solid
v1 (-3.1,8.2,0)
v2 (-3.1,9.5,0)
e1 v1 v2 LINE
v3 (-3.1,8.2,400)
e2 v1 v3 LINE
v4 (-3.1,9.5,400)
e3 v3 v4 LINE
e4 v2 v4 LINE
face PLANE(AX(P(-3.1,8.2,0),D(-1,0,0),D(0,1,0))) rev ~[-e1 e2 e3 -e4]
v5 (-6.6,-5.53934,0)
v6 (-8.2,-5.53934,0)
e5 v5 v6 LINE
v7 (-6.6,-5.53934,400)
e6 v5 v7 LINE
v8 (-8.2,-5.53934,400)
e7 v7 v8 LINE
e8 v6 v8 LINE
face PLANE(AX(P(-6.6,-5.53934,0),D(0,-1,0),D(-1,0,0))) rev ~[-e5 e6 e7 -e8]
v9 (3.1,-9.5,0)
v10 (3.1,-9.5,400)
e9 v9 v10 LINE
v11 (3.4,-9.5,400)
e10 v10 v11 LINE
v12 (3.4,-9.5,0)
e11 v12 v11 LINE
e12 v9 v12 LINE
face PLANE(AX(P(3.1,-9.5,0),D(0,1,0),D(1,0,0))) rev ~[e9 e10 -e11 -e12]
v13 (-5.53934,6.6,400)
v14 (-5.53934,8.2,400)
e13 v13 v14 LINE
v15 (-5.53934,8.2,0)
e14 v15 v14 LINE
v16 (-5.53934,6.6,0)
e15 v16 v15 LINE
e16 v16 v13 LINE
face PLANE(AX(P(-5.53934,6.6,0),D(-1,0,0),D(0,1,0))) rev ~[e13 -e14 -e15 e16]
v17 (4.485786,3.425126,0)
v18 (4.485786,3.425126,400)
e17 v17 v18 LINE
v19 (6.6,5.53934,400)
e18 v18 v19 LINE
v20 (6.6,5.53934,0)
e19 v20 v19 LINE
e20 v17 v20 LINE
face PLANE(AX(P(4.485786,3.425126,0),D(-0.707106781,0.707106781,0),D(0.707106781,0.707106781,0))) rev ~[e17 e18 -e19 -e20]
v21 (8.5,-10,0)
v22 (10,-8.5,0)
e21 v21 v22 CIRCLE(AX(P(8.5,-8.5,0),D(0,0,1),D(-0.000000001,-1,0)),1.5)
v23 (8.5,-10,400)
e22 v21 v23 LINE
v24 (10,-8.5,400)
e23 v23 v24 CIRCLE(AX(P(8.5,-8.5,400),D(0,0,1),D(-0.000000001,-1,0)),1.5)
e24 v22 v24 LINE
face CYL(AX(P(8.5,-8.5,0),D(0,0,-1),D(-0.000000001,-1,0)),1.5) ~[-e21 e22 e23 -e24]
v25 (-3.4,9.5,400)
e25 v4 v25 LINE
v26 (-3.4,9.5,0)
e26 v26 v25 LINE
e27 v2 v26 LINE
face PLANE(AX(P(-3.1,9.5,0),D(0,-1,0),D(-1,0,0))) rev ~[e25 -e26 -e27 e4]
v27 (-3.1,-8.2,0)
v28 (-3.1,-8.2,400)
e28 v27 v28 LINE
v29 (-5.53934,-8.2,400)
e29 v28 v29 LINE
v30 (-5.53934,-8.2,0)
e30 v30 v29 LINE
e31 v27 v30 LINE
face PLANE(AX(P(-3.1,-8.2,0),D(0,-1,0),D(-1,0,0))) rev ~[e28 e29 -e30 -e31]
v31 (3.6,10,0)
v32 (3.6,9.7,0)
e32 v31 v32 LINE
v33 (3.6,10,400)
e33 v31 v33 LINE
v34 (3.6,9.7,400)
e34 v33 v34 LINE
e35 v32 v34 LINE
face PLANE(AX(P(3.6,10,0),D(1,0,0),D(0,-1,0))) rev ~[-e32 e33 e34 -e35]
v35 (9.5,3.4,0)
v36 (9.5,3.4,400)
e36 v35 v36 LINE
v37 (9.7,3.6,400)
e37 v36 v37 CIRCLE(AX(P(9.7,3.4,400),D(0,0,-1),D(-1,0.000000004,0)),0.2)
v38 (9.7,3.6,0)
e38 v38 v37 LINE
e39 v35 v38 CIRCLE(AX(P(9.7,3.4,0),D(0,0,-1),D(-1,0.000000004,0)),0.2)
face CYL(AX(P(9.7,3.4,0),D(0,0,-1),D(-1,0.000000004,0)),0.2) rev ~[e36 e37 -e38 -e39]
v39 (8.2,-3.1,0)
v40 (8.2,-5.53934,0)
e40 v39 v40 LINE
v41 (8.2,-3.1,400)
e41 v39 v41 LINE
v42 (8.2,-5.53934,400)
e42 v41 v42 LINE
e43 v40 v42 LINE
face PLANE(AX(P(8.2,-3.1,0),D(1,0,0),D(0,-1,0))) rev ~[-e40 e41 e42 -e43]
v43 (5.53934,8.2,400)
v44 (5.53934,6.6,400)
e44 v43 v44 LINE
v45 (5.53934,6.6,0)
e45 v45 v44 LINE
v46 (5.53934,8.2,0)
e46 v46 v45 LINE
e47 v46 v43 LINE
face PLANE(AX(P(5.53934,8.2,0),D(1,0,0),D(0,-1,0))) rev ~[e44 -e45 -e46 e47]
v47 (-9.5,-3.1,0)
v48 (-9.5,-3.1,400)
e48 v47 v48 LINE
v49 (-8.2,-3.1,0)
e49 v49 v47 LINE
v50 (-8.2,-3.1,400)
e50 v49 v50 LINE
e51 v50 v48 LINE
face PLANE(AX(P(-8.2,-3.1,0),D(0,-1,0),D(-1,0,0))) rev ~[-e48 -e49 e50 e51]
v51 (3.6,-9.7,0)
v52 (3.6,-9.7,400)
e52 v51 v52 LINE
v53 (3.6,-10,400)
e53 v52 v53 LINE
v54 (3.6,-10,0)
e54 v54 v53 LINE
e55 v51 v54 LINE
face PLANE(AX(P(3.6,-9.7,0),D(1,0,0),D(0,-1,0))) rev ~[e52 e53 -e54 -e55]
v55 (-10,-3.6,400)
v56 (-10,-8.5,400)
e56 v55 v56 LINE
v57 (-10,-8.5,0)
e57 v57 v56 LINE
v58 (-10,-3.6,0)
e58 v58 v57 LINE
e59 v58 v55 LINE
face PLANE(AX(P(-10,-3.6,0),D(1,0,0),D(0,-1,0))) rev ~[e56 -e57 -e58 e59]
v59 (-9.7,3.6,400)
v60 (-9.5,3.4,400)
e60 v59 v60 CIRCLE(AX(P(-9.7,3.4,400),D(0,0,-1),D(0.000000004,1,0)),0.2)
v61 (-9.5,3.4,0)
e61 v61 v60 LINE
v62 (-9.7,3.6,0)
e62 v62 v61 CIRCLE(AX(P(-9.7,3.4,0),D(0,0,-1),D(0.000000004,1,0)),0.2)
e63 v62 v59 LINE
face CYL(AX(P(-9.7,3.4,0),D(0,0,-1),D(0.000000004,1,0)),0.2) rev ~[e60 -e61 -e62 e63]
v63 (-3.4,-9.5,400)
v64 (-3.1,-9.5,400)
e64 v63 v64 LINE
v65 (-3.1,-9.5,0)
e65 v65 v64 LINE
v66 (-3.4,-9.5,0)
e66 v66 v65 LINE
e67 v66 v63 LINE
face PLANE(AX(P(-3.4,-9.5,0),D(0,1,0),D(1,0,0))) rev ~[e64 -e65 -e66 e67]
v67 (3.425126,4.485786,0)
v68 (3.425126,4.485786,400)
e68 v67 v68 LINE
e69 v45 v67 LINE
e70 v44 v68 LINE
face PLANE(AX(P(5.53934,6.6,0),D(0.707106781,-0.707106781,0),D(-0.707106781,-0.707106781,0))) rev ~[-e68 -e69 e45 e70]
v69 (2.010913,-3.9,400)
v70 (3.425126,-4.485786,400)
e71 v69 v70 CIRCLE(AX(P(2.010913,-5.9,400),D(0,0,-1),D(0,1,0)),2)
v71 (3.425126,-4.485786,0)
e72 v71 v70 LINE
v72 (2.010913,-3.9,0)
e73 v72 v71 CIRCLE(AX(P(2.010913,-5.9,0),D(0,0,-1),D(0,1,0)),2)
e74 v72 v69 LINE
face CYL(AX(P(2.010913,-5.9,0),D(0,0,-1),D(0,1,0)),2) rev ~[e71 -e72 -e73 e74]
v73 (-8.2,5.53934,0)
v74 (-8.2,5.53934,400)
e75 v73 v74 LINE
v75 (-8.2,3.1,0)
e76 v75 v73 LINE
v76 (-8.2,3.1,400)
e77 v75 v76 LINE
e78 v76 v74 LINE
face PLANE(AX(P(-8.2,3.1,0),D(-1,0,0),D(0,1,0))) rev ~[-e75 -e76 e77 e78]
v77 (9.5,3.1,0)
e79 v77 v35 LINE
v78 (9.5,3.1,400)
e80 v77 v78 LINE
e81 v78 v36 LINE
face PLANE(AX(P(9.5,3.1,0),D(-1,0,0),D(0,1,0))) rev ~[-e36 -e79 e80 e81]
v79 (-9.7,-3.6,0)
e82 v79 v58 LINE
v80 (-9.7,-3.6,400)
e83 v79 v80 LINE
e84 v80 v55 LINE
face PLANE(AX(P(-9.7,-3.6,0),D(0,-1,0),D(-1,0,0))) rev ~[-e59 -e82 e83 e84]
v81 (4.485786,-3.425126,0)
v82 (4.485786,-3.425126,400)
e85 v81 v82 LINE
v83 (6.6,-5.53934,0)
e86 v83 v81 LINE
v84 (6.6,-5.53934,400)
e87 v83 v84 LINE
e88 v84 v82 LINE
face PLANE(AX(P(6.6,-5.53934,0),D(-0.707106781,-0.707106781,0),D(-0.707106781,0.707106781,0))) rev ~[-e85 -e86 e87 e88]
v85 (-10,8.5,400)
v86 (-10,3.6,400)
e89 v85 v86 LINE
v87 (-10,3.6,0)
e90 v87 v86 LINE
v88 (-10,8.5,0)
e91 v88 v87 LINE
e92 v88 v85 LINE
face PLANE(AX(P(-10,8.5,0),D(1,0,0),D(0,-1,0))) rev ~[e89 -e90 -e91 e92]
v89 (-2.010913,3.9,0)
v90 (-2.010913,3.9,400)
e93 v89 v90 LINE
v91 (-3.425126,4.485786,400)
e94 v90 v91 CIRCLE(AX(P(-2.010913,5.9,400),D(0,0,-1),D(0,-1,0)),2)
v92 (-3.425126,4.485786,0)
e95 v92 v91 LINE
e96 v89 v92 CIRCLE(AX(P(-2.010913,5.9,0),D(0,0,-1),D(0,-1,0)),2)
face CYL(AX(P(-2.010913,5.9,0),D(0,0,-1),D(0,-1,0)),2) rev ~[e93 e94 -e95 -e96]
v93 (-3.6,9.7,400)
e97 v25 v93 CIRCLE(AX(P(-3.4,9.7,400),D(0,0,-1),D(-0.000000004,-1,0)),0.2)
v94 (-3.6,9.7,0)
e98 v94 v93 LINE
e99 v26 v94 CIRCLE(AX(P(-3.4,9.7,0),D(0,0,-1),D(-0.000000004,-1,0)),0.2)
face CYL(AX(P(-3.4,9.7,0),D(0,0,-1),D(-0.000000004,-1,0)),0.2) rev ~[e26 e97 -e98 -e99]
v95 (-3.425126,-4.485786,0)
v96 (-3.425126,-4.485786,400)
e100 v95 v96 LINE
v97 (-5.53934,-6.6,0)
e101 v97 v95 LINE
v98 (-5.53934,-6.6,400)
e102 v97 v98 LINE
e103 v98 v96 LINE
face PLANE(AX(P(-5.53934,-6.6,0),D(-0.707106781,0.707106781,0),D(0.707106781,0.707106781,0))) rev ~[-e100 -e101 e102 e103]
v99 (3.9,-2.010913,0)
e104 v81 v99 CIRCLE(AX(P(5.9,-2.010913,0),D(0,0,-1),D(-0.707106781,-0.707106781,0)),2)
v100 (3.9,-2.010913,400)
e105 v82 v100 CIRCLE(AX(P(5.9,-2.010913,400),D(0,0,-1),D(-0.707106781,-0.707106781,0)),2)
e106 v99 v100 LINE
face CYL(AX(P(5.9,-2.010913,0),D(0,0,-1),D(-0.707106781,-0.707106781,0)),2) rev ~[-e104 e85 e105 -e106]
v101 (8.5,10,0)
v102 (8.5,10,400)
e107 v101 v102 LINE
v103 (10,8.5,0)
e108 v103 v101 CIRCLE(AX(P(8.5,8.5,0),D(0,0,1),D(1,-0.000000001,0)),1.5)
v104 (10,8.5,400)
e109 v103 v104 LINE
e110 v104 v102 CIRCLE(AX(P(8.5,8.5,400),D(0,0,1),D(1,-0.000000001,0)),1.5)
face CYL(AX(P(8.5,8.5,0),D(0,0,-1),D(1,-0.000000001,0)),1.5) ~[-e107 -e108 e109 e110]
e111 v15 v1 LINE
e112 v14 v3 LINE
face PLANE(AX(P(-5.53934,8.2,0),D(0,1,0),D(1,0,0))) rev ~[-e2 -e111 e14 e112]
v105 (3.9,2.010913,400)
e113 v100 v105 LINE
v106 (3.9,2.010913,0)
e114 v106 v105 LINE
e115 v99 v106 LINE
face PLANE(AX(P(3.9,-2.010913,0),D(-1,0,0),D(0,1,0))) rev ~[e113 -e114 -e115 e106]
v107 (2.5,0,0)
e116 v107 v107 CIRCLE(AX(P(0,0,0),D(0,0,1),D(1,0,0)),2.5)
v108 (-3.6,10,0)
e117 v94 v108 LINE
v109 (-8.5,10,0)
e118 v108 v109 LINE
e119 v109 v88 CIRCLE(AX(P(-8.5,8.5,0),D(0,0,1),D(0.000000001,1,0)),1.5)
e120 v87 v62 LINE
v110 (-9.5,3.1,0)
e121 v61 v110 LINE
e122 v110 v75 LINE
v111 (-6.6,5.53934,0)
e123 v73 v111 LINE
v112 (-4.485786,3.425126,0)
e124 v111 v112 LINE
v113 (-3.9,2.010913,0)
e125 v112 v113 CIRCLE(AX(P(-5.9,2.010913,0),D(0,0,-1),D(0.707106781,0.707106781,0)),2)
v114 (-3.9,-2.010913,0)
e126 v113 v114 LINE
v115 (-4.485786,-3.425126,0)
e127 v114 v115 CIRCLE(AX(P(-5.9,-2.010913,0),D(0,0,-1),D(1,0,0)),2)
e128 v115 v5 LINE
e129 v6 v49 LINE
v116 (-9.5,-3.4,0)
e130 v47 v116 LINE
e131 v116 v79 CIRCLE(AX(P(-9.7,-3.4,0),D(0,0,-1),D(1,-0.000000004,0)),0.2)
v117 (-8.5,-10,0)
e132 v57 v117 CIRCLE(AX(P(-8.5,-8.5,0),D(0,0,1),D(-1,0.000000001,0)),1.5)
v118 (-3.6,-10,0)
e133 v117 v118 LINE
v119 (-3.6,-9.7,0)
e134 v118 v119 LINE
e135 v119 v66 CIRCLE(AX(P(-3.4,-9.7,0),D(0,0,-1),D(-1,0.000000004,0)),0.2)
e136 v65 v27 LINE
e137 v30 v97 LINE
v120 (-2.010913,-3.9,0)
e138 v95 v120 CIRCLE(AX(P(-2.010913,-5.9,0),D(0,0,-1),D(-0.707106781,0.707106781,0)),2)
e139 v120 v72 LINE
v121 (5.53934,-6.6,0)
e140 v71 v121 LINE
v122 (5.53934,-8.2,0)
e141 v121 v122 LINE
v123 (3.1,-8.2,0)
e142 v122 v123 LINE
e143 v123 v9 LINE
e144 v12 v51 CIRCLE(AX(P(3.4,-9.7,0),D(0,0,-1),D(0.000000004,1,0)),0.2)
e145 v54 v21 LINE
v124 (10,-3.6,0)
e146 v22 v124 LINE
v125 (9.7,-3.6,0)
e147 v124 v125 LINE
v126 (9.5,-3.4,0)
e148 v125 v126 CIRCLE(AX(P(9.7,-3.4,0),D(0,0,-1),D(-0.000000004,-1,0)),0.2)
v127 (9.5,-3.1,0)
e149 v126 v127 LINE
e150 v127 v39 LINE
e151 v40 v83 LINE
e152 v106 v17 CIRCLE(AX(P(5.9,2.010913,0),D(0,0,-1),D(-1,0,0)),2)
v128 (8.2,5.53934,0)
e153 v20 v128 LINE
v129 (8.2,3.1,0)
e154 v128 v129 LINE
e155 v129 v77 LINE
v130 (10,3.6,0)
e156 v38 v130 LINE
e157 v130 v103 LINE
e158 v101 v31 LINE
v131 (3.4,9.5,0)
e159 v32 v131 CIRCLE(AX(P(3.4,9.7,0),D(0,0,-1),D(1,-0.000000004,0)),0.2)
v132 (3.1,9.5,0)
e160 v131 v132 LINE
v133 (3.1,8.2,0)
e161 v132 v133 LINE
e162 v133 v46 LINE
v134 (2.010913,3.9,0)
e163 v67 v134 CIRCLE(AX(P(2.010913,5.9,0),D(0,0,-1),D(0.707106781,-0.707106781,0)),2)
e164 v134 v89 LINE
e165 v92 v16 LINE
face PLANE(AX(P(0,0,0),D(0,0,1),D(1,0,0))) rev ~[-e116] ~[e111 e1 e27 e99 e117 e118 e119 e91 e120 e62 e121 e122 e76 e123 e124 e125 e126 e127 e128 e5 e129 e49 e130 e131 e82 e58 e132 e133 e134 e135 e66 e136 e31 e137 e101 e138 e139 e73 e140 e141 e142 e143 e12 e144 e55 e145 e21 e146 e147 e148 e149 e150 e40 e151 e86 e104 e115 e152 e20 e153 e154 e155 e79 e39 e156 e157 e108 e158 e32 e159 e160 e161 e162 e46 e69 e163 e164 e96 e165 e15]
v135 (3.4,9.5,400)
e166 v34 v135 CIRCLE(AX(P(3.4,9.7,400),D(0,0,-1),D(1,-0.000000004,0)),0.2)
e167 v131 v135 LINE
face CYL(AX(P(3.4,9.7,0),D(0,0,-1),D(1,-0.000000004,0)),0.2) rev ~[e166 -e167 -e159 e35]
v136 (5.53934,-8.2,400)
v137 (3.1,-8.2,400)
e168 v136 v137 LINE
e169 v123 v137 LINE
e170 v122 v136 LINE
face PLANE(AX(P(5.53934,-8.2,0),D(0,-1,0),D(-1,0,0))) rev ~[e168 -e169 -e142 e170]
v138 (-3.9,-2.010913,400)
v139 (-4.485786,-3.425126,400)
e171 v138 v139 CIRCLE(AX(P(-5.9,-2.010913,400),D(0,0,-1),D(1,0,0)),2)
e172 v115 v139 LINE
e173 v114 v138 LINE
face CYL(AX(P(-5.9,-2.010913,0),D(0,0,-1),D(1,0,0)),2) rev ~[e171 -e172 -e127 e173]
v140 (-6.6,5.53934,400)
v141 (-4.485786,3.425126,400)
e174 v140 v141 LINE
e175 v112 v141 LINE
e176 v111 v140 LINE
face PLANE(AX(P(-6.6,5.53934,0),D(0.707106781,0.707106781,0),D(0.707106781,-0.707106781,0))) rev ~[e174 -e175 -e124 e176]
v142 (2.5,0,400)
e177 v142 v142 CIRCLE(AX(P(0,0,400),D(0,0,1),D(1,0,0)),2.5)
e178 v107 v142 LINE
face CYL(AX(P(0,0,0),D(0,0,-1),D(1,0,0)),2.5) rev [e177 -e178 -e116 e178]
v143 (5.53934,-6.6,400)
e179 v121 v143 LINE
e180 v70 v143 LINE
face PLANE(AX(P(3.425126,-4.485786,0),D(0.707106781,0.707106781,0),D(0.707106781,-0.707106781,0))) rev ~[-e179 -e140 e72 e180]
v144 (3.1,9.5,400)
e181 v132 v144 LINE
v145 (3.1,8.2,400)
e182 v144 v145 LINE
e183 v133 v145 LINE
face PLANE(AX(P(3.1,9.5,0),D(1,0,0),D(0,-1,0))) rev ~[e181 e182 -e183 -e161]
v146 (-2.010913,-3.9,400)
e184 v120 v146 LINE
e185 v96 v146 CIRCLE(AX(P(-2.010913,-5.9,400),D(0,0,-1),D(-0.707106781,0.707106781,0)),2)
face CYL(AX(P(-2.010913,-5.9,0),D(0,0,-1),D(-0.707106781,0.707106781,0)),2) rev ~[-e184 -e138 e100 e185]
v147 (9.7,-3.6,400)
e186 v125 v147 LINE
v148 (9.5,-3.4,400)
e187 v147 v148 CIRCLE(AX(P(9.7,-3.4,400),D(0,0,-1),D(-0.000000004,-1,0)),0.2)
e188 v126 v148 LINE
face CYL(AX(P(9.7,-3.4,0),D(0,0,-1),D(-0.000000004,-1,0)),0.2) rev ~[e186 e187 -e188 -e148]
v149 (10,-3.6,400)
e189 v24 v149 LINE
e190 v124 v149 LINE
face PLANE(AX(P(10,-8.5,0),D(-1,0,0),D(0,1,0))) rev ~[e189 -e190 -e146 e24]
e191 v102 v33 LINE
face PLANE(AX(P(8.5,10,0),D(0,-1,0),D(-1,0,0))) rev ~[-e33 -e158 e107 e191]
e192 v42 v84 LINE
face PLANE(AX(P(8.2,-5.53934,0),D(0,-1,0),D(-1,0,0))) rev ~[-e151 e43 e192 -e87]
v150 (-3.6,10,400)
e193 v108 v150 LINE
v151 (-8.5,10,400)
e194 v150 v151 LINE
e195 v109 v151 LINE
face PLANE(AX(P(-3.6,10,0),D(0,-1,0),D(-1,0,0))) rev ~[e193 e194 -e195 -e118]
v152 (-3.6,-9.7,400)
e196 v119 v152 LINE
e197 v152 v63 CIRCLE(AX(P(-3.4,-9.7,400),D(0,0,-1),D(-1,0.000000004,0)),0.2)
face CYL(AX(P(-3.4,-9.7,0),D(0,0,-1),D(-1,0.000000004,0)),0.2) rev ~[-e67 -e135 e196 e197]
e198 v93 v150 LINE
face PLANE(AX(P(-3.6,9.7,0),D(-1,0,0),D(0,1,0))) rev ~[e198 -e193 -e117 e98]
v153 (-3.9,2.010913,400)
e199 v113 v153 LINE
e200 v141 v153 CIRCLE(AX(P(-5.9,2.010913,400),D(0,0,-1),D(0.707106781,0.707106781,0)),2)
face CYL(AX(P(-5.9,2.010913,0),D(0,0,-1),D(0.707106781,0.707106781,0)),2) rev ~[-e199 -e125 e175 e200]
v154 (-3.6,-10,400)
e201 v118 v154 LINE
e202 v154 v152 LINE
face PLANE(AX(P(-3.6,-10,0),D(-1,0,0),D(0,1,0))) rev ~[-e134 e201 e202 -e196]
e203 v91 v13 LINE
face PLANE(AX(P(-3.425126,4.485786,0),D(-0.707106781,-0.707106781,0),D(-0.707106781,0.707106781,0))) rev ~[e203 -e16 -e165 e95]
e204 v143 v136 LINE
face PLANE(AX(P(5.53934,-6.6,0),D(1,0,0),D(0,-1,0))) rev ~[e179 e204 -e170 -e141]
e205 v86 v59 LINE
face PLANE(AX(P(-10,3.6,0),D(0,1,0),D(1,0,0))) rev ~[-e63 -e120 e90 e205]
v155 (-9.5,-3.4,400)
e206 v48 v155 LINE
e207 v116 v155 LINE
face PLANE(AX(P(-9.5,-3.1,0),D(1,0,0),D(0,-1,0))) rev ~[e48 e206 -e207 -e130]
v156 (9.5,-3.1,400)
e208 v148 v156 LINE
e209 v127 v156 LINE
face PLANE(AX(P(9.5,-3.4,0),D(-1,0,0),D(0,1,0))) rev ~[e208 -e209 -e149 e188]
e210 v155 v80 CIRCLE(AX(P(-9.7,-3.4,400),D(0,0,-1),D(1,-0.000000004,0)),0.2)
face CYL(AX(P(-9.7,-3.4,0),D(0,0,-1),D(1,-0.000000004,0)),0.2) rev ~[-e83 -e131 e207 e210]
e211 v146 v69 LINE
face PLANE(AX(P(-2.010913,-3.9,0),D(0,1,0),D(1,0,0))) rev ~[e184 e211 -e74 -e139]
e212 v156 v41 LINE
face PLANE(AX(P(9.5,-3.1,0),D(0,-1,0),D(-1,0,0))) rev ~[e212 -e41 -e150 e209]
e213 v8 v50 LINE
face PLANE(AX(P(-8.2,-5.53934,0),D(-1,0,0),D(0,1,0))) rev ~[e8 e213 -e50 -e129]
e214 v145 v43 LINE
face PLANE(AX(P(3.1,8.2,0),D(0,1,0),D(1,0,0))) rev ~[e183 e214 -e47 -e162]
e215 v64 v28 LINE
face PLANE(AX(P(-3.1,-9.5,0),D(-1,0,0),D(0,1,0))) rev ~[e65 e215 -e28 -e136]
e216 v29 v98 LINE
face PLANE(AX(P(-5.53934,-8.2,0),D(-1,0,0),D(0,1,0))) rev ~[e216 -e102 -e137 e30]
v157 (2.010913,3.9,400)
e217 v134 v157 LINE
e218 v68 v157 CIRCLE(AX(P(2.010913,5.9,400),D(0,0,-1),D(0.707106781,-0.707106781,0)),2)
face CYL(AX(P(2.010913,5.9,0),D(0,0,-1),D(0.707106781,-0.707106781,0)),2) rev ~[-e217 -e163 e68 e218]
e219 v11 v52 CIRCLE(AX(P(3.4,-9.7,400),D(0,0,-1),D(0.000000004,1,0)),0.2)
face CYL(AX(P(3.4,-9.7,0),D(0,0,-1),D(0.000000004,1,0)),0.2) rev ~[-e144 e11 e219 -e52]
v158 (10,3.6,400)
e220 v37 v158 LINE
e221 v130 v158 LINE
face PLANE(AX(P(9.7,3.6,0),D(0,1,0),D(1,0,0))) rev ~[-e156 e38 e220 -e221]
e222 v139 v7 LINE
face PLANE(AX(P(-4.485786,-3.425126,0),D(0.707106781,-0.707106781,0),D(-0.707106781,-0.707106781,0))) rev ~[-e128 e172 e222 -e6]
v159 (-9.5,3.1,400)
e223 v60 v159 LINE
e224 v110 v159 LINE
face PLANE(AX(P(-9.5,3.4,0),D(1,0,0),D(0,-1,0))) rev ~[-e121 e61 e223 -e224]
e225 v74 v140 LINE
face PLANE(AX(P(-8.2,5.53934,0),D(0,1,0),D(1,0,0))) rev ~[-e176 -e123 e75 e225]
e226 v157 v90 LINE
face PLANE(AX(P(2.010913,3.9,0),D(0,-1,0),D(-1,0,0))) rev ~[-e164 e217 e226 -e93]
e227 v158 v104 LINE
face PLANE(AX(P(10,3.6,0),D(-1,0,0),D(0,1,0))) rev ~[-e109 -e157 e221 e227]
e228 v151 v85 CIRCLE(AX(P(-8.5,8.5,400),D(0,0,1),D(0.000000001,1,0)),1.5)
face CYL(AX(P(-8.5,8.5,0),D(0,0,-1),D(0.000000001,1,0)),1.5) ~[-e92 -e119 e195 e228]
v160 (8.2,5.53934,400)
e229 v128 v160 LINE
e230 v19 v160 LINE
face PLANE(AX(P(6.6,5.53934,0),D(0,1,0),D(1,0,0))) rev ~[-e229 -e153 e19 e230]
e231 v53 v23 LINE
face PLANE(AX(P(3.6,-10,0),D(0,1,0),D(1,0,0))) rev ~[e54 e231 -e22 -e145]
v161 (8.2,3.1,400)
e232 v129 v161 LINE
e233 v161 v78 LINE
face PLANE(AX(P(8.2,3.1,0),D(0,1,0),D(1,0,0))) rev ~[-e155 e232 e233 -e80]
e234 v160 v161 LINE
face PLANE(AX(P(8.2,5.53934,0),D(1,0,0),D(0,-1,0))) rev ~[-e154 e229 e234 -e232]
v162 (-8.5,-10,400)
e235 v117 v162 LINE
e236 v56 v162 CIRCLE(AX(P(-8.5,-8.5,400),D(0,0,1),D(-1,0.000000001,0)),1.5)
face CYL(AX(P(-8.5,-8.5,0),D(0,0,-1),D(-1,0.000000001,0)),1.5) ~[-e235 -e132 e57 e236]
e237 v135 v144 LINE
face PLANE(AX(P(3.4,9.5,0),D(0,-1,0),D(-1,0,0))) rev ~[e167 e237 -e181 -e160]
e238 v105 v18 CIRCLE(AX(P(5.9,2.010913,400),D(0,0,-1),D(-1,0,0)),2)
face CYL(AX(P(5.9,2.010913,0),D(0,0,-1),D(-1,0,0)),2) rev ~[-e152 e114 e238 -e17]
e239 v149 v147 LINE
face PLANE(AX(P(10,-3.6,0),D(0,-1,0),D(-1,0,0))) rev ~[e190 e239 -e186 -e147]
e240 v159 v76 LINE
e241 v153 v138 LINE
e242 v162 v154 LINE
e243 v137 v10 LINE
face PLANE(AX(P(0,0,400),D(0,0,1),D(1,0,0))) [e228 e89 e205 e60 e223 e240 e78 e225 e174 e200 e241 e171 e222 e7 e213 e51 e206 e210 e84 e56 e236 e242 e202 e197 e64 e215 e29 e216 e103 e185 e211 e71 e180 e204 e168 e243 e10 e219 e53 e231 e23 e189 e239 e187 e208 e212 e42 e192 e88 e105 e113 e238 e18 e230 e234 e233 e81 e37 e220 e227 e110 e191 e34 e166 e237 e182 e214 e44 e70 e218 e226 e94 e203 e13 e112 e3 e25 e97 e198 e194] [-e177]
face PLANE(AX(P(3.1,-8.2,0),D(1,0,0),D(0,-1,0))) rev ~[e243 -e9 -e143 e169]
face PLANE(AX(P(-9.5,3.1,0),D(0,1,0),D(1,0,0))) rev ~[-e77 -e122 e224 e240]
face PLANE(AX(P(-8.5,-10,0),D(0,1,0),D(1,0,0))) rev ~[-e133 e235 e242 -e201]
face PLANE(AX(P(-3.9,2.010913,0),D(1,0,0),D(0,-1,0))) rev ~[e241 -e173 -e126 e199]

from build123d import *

# Parameters (mm, degrees)
SKETCH1_R      = 2.5
EXTRUDE1_DEPTH = 400


with BuildPart() as part:
    # Sketch1 → Extrude1 (new body)
    with BuildSketch(Plane.XY):
        with BuildLine():
            Line((0, 3.9), (-2.010912703, 3.9))
            ThreePointArc((-2.010912703, 3.9), (-2.776279568, 4.052240935), (-3.425126266, 4.485786438))
            Line((-3.425126266, 4.485786438), (-5.539339828, 6.6))
            Line((-5.539339828, 6.6), (-5.539339828, 8.2))
            Line((-5.539339828, 8.2), (-3.1, 8.2))
            Line((-3.1, 8.2), (-3.1, 9.5))
            Line((-3.1, 9.5), (-3.4, 9.5))
            ThreePointArc((-3.4, 9.5), (-3.541421356, 9.558578644), (-3.6, 9.7))
            Line((-3.6, 9.7), (-3.6, 10))
            Line((-3.6, 10), (-8.5, 10))
            ThreePointArc((-8.5, 10), (-9.560660172, 9.560660172), (-10, 8.5))
            Line((-10, 8.5), (-10, 3.6))
            Line((-10, 3.6), (-9.7, 3.6))
            ThreePointArc((-9.7, 3.6), (-9.558578644, 3.541421356), (-9.5, 3.4))
            Line((-9.5, 3.4), (-9.5, 3.1))
            Line((-9.5, 3.1), (-8.2, 3.1))
            Line((-8.2, 3.1), (-8.2, 5.539339828))
            Line((-8.2, 5.539339828), (-6.6, 5.539339828))
            Line((-6.6, 5.539339828), (-4.485786438, 3.425126266))
            ThreePointArc((-4.485786438, 3.425126266), (-4.052240935, 2.776279568), (-3.9, 2.010912703))
            Line((-3.9, 2.010912703), (-3.9, 0))
            Line((-3.9, 0), (-3.9, -2.010912703))
            ThreePointArc((-3.9, -2.010912703), (-4.052240935, -2.776279568), (-4.485786438, -3.425126266))
            Line((-4.485786438, -3.425126266), (-6.6, -5.539339828))
            Line((-6.6, -5.539339828), (-8.2, -5.539339828))
            Line((-8.2, -5.539339828), (-8.2, -3.1))
            Line((-8.2, -3.1), (-9.5, -3.1))
            Line((-9.5, -3.1), (-9.5, -3.4))
            ThreePointArc((-9.5, -3.4), (-9.558578644, -3.541421356), (-9.7, -3.6))
            Line((-9.7, -3.6), (-10, -3.6))
            Line((-10, -3.6), (-10, -8.5))
            ThreePointArc((-10, -8.5), (-9.560660172, -9.560660172), (-8.5, -10))
            Line((-8.5, -10), (-3.6, -10))
            Line((-3.6, -10), (-3.6, -9.7))
            ThreePointArc((-3.6, -9.7), (-3.541421356, -9.558578644), (-3.4, -9.5))
            Line((-3.4, -9.5), (-3.1, -9.5))
            Line((-3.1, -9.5), (-3.1, -8.2))
            Line((-3.1, -8.2), (-5.539339828, -8.2))
            Line((-5.539339828, -8.2), (-5.539339828, -6.6))
            Line((-5.539339828, -6.6), (-3.425126266, -4.485786438))
            ThreePointArc((-3.425126266, -4.485786438), (-2.776279568, -4.052240935), (-2.010912703, -3.9))
            Line((-2.010912703, -3.9), (0, -3.9))
            Line((0, -3.9), (2.010912703, -3.9))
            ThreePointArc((2.010912703, -3.9), (2.776279568, -4.052240935), (3.425126266, -4.485786438))
            Line((3.425126266, -4.485786438), (5.539339828, -6.6))
            Line((5.539339828, -6.6), (5.539339828, -8.2))
            Line((5.539339828, -8.2), (3.1, -8.2))
            Line((3.1, -8.2), (3.1, -9.5))
            Line((3.1, -9.5), (3.4, -9.5))
            ThreePointArc((3.4, -9.5), (3.541421356, -9.558578644), (3.6, -9.7))
            Line((3.6, -9.7), (3.6, -10))
            Line((3.6, -10), (8.5, -10))
            ThreePointArc((8.5, -10), (9.560660172, -9.560660172), (10, -8.5))
            Line((10, -8.5), (10, -3.6))
            Line((10, -3.6), (9.7, -3.6))
            ThreePointArc((9.7, -3.6), (9.558578644, -3.541421356), (9.5, -3.4))
            Line((9.5, -3.4), (9.5, -3.1))
            Line((9.5, -3.1), (8.2, -3.1))
            Line((8.2, -3.1), (8.2, -5.539339828))
            Line((8.2, -5.539339828), (6.6, -5.539339828))
            Line((6.6, -5.539339828), (4.485786438, -3.425126266))
            ThreePointArc((4.485786438, -3.425126266), (4.052240935, -2.776279568), (3.9, -2.010912703))
            Line((3.9, -2.010912703), (3.9, 0))
            Line((3.9, 0), (3.9, 2.010912703))
            ThreePointArc((3.9, 2.010912703), (4.052240935, 2.776279568), (4.485786438, 3.425126266))
            Line((4.485786438, 3.425126266), (6.6, 5.539339828))
            Line((6.6, 5.539339828), (8.2, 5.539339828))
            Line((8.2, 5.539339828), (8.2, 3.1))
            Line((8.2, 3.1), (9.5, 3.1))
            Line((9.5, 3.1), (9.5, 3.4))
            ThreePointArc((9.5, 3.4), (9.558578644, 3.541421356), (9.7, 3.6))
            Line((9.7, 3.6), (10, 3.6))
            Line((10, 3.6), (10, 8.5))
            ThreePointArc((10, 8.5), (9.560660172, 9.560660172), (8.5, 10))
            Line((8.5, 10), (3.6, 10))
            Line((3.6, 10), (3.6, 9.7))
            ThreePointArc((3.6, 9.7), (3.541421356, 9.558578644), (3.4, 9.5))
            Line((3.4, 9.5), (3.1, 9.5))
            Line((3.1, 9.5), (3.1, 8.2))
            Line((3.1, 8.2), (5.539339828, 8.2))
            Line((5.539339828, 8.2), (5.539339828, 6.6))
            Line((5.539339828, 6.6), (3.425126266, 4.485786438))
            ThreePointArc((3.425126266, 4.485786438), (2.776279568, 4.052240935), (2.010912703, 3.9))
            Line((2.010912703, 3.9), (0, 3.9))
        make_face()
        Circle(SKETCH1_R, mode=Mode.SUBTRACT)
    extrude(amount=EXTRUDE1_DEPTH)


solid = part.part
